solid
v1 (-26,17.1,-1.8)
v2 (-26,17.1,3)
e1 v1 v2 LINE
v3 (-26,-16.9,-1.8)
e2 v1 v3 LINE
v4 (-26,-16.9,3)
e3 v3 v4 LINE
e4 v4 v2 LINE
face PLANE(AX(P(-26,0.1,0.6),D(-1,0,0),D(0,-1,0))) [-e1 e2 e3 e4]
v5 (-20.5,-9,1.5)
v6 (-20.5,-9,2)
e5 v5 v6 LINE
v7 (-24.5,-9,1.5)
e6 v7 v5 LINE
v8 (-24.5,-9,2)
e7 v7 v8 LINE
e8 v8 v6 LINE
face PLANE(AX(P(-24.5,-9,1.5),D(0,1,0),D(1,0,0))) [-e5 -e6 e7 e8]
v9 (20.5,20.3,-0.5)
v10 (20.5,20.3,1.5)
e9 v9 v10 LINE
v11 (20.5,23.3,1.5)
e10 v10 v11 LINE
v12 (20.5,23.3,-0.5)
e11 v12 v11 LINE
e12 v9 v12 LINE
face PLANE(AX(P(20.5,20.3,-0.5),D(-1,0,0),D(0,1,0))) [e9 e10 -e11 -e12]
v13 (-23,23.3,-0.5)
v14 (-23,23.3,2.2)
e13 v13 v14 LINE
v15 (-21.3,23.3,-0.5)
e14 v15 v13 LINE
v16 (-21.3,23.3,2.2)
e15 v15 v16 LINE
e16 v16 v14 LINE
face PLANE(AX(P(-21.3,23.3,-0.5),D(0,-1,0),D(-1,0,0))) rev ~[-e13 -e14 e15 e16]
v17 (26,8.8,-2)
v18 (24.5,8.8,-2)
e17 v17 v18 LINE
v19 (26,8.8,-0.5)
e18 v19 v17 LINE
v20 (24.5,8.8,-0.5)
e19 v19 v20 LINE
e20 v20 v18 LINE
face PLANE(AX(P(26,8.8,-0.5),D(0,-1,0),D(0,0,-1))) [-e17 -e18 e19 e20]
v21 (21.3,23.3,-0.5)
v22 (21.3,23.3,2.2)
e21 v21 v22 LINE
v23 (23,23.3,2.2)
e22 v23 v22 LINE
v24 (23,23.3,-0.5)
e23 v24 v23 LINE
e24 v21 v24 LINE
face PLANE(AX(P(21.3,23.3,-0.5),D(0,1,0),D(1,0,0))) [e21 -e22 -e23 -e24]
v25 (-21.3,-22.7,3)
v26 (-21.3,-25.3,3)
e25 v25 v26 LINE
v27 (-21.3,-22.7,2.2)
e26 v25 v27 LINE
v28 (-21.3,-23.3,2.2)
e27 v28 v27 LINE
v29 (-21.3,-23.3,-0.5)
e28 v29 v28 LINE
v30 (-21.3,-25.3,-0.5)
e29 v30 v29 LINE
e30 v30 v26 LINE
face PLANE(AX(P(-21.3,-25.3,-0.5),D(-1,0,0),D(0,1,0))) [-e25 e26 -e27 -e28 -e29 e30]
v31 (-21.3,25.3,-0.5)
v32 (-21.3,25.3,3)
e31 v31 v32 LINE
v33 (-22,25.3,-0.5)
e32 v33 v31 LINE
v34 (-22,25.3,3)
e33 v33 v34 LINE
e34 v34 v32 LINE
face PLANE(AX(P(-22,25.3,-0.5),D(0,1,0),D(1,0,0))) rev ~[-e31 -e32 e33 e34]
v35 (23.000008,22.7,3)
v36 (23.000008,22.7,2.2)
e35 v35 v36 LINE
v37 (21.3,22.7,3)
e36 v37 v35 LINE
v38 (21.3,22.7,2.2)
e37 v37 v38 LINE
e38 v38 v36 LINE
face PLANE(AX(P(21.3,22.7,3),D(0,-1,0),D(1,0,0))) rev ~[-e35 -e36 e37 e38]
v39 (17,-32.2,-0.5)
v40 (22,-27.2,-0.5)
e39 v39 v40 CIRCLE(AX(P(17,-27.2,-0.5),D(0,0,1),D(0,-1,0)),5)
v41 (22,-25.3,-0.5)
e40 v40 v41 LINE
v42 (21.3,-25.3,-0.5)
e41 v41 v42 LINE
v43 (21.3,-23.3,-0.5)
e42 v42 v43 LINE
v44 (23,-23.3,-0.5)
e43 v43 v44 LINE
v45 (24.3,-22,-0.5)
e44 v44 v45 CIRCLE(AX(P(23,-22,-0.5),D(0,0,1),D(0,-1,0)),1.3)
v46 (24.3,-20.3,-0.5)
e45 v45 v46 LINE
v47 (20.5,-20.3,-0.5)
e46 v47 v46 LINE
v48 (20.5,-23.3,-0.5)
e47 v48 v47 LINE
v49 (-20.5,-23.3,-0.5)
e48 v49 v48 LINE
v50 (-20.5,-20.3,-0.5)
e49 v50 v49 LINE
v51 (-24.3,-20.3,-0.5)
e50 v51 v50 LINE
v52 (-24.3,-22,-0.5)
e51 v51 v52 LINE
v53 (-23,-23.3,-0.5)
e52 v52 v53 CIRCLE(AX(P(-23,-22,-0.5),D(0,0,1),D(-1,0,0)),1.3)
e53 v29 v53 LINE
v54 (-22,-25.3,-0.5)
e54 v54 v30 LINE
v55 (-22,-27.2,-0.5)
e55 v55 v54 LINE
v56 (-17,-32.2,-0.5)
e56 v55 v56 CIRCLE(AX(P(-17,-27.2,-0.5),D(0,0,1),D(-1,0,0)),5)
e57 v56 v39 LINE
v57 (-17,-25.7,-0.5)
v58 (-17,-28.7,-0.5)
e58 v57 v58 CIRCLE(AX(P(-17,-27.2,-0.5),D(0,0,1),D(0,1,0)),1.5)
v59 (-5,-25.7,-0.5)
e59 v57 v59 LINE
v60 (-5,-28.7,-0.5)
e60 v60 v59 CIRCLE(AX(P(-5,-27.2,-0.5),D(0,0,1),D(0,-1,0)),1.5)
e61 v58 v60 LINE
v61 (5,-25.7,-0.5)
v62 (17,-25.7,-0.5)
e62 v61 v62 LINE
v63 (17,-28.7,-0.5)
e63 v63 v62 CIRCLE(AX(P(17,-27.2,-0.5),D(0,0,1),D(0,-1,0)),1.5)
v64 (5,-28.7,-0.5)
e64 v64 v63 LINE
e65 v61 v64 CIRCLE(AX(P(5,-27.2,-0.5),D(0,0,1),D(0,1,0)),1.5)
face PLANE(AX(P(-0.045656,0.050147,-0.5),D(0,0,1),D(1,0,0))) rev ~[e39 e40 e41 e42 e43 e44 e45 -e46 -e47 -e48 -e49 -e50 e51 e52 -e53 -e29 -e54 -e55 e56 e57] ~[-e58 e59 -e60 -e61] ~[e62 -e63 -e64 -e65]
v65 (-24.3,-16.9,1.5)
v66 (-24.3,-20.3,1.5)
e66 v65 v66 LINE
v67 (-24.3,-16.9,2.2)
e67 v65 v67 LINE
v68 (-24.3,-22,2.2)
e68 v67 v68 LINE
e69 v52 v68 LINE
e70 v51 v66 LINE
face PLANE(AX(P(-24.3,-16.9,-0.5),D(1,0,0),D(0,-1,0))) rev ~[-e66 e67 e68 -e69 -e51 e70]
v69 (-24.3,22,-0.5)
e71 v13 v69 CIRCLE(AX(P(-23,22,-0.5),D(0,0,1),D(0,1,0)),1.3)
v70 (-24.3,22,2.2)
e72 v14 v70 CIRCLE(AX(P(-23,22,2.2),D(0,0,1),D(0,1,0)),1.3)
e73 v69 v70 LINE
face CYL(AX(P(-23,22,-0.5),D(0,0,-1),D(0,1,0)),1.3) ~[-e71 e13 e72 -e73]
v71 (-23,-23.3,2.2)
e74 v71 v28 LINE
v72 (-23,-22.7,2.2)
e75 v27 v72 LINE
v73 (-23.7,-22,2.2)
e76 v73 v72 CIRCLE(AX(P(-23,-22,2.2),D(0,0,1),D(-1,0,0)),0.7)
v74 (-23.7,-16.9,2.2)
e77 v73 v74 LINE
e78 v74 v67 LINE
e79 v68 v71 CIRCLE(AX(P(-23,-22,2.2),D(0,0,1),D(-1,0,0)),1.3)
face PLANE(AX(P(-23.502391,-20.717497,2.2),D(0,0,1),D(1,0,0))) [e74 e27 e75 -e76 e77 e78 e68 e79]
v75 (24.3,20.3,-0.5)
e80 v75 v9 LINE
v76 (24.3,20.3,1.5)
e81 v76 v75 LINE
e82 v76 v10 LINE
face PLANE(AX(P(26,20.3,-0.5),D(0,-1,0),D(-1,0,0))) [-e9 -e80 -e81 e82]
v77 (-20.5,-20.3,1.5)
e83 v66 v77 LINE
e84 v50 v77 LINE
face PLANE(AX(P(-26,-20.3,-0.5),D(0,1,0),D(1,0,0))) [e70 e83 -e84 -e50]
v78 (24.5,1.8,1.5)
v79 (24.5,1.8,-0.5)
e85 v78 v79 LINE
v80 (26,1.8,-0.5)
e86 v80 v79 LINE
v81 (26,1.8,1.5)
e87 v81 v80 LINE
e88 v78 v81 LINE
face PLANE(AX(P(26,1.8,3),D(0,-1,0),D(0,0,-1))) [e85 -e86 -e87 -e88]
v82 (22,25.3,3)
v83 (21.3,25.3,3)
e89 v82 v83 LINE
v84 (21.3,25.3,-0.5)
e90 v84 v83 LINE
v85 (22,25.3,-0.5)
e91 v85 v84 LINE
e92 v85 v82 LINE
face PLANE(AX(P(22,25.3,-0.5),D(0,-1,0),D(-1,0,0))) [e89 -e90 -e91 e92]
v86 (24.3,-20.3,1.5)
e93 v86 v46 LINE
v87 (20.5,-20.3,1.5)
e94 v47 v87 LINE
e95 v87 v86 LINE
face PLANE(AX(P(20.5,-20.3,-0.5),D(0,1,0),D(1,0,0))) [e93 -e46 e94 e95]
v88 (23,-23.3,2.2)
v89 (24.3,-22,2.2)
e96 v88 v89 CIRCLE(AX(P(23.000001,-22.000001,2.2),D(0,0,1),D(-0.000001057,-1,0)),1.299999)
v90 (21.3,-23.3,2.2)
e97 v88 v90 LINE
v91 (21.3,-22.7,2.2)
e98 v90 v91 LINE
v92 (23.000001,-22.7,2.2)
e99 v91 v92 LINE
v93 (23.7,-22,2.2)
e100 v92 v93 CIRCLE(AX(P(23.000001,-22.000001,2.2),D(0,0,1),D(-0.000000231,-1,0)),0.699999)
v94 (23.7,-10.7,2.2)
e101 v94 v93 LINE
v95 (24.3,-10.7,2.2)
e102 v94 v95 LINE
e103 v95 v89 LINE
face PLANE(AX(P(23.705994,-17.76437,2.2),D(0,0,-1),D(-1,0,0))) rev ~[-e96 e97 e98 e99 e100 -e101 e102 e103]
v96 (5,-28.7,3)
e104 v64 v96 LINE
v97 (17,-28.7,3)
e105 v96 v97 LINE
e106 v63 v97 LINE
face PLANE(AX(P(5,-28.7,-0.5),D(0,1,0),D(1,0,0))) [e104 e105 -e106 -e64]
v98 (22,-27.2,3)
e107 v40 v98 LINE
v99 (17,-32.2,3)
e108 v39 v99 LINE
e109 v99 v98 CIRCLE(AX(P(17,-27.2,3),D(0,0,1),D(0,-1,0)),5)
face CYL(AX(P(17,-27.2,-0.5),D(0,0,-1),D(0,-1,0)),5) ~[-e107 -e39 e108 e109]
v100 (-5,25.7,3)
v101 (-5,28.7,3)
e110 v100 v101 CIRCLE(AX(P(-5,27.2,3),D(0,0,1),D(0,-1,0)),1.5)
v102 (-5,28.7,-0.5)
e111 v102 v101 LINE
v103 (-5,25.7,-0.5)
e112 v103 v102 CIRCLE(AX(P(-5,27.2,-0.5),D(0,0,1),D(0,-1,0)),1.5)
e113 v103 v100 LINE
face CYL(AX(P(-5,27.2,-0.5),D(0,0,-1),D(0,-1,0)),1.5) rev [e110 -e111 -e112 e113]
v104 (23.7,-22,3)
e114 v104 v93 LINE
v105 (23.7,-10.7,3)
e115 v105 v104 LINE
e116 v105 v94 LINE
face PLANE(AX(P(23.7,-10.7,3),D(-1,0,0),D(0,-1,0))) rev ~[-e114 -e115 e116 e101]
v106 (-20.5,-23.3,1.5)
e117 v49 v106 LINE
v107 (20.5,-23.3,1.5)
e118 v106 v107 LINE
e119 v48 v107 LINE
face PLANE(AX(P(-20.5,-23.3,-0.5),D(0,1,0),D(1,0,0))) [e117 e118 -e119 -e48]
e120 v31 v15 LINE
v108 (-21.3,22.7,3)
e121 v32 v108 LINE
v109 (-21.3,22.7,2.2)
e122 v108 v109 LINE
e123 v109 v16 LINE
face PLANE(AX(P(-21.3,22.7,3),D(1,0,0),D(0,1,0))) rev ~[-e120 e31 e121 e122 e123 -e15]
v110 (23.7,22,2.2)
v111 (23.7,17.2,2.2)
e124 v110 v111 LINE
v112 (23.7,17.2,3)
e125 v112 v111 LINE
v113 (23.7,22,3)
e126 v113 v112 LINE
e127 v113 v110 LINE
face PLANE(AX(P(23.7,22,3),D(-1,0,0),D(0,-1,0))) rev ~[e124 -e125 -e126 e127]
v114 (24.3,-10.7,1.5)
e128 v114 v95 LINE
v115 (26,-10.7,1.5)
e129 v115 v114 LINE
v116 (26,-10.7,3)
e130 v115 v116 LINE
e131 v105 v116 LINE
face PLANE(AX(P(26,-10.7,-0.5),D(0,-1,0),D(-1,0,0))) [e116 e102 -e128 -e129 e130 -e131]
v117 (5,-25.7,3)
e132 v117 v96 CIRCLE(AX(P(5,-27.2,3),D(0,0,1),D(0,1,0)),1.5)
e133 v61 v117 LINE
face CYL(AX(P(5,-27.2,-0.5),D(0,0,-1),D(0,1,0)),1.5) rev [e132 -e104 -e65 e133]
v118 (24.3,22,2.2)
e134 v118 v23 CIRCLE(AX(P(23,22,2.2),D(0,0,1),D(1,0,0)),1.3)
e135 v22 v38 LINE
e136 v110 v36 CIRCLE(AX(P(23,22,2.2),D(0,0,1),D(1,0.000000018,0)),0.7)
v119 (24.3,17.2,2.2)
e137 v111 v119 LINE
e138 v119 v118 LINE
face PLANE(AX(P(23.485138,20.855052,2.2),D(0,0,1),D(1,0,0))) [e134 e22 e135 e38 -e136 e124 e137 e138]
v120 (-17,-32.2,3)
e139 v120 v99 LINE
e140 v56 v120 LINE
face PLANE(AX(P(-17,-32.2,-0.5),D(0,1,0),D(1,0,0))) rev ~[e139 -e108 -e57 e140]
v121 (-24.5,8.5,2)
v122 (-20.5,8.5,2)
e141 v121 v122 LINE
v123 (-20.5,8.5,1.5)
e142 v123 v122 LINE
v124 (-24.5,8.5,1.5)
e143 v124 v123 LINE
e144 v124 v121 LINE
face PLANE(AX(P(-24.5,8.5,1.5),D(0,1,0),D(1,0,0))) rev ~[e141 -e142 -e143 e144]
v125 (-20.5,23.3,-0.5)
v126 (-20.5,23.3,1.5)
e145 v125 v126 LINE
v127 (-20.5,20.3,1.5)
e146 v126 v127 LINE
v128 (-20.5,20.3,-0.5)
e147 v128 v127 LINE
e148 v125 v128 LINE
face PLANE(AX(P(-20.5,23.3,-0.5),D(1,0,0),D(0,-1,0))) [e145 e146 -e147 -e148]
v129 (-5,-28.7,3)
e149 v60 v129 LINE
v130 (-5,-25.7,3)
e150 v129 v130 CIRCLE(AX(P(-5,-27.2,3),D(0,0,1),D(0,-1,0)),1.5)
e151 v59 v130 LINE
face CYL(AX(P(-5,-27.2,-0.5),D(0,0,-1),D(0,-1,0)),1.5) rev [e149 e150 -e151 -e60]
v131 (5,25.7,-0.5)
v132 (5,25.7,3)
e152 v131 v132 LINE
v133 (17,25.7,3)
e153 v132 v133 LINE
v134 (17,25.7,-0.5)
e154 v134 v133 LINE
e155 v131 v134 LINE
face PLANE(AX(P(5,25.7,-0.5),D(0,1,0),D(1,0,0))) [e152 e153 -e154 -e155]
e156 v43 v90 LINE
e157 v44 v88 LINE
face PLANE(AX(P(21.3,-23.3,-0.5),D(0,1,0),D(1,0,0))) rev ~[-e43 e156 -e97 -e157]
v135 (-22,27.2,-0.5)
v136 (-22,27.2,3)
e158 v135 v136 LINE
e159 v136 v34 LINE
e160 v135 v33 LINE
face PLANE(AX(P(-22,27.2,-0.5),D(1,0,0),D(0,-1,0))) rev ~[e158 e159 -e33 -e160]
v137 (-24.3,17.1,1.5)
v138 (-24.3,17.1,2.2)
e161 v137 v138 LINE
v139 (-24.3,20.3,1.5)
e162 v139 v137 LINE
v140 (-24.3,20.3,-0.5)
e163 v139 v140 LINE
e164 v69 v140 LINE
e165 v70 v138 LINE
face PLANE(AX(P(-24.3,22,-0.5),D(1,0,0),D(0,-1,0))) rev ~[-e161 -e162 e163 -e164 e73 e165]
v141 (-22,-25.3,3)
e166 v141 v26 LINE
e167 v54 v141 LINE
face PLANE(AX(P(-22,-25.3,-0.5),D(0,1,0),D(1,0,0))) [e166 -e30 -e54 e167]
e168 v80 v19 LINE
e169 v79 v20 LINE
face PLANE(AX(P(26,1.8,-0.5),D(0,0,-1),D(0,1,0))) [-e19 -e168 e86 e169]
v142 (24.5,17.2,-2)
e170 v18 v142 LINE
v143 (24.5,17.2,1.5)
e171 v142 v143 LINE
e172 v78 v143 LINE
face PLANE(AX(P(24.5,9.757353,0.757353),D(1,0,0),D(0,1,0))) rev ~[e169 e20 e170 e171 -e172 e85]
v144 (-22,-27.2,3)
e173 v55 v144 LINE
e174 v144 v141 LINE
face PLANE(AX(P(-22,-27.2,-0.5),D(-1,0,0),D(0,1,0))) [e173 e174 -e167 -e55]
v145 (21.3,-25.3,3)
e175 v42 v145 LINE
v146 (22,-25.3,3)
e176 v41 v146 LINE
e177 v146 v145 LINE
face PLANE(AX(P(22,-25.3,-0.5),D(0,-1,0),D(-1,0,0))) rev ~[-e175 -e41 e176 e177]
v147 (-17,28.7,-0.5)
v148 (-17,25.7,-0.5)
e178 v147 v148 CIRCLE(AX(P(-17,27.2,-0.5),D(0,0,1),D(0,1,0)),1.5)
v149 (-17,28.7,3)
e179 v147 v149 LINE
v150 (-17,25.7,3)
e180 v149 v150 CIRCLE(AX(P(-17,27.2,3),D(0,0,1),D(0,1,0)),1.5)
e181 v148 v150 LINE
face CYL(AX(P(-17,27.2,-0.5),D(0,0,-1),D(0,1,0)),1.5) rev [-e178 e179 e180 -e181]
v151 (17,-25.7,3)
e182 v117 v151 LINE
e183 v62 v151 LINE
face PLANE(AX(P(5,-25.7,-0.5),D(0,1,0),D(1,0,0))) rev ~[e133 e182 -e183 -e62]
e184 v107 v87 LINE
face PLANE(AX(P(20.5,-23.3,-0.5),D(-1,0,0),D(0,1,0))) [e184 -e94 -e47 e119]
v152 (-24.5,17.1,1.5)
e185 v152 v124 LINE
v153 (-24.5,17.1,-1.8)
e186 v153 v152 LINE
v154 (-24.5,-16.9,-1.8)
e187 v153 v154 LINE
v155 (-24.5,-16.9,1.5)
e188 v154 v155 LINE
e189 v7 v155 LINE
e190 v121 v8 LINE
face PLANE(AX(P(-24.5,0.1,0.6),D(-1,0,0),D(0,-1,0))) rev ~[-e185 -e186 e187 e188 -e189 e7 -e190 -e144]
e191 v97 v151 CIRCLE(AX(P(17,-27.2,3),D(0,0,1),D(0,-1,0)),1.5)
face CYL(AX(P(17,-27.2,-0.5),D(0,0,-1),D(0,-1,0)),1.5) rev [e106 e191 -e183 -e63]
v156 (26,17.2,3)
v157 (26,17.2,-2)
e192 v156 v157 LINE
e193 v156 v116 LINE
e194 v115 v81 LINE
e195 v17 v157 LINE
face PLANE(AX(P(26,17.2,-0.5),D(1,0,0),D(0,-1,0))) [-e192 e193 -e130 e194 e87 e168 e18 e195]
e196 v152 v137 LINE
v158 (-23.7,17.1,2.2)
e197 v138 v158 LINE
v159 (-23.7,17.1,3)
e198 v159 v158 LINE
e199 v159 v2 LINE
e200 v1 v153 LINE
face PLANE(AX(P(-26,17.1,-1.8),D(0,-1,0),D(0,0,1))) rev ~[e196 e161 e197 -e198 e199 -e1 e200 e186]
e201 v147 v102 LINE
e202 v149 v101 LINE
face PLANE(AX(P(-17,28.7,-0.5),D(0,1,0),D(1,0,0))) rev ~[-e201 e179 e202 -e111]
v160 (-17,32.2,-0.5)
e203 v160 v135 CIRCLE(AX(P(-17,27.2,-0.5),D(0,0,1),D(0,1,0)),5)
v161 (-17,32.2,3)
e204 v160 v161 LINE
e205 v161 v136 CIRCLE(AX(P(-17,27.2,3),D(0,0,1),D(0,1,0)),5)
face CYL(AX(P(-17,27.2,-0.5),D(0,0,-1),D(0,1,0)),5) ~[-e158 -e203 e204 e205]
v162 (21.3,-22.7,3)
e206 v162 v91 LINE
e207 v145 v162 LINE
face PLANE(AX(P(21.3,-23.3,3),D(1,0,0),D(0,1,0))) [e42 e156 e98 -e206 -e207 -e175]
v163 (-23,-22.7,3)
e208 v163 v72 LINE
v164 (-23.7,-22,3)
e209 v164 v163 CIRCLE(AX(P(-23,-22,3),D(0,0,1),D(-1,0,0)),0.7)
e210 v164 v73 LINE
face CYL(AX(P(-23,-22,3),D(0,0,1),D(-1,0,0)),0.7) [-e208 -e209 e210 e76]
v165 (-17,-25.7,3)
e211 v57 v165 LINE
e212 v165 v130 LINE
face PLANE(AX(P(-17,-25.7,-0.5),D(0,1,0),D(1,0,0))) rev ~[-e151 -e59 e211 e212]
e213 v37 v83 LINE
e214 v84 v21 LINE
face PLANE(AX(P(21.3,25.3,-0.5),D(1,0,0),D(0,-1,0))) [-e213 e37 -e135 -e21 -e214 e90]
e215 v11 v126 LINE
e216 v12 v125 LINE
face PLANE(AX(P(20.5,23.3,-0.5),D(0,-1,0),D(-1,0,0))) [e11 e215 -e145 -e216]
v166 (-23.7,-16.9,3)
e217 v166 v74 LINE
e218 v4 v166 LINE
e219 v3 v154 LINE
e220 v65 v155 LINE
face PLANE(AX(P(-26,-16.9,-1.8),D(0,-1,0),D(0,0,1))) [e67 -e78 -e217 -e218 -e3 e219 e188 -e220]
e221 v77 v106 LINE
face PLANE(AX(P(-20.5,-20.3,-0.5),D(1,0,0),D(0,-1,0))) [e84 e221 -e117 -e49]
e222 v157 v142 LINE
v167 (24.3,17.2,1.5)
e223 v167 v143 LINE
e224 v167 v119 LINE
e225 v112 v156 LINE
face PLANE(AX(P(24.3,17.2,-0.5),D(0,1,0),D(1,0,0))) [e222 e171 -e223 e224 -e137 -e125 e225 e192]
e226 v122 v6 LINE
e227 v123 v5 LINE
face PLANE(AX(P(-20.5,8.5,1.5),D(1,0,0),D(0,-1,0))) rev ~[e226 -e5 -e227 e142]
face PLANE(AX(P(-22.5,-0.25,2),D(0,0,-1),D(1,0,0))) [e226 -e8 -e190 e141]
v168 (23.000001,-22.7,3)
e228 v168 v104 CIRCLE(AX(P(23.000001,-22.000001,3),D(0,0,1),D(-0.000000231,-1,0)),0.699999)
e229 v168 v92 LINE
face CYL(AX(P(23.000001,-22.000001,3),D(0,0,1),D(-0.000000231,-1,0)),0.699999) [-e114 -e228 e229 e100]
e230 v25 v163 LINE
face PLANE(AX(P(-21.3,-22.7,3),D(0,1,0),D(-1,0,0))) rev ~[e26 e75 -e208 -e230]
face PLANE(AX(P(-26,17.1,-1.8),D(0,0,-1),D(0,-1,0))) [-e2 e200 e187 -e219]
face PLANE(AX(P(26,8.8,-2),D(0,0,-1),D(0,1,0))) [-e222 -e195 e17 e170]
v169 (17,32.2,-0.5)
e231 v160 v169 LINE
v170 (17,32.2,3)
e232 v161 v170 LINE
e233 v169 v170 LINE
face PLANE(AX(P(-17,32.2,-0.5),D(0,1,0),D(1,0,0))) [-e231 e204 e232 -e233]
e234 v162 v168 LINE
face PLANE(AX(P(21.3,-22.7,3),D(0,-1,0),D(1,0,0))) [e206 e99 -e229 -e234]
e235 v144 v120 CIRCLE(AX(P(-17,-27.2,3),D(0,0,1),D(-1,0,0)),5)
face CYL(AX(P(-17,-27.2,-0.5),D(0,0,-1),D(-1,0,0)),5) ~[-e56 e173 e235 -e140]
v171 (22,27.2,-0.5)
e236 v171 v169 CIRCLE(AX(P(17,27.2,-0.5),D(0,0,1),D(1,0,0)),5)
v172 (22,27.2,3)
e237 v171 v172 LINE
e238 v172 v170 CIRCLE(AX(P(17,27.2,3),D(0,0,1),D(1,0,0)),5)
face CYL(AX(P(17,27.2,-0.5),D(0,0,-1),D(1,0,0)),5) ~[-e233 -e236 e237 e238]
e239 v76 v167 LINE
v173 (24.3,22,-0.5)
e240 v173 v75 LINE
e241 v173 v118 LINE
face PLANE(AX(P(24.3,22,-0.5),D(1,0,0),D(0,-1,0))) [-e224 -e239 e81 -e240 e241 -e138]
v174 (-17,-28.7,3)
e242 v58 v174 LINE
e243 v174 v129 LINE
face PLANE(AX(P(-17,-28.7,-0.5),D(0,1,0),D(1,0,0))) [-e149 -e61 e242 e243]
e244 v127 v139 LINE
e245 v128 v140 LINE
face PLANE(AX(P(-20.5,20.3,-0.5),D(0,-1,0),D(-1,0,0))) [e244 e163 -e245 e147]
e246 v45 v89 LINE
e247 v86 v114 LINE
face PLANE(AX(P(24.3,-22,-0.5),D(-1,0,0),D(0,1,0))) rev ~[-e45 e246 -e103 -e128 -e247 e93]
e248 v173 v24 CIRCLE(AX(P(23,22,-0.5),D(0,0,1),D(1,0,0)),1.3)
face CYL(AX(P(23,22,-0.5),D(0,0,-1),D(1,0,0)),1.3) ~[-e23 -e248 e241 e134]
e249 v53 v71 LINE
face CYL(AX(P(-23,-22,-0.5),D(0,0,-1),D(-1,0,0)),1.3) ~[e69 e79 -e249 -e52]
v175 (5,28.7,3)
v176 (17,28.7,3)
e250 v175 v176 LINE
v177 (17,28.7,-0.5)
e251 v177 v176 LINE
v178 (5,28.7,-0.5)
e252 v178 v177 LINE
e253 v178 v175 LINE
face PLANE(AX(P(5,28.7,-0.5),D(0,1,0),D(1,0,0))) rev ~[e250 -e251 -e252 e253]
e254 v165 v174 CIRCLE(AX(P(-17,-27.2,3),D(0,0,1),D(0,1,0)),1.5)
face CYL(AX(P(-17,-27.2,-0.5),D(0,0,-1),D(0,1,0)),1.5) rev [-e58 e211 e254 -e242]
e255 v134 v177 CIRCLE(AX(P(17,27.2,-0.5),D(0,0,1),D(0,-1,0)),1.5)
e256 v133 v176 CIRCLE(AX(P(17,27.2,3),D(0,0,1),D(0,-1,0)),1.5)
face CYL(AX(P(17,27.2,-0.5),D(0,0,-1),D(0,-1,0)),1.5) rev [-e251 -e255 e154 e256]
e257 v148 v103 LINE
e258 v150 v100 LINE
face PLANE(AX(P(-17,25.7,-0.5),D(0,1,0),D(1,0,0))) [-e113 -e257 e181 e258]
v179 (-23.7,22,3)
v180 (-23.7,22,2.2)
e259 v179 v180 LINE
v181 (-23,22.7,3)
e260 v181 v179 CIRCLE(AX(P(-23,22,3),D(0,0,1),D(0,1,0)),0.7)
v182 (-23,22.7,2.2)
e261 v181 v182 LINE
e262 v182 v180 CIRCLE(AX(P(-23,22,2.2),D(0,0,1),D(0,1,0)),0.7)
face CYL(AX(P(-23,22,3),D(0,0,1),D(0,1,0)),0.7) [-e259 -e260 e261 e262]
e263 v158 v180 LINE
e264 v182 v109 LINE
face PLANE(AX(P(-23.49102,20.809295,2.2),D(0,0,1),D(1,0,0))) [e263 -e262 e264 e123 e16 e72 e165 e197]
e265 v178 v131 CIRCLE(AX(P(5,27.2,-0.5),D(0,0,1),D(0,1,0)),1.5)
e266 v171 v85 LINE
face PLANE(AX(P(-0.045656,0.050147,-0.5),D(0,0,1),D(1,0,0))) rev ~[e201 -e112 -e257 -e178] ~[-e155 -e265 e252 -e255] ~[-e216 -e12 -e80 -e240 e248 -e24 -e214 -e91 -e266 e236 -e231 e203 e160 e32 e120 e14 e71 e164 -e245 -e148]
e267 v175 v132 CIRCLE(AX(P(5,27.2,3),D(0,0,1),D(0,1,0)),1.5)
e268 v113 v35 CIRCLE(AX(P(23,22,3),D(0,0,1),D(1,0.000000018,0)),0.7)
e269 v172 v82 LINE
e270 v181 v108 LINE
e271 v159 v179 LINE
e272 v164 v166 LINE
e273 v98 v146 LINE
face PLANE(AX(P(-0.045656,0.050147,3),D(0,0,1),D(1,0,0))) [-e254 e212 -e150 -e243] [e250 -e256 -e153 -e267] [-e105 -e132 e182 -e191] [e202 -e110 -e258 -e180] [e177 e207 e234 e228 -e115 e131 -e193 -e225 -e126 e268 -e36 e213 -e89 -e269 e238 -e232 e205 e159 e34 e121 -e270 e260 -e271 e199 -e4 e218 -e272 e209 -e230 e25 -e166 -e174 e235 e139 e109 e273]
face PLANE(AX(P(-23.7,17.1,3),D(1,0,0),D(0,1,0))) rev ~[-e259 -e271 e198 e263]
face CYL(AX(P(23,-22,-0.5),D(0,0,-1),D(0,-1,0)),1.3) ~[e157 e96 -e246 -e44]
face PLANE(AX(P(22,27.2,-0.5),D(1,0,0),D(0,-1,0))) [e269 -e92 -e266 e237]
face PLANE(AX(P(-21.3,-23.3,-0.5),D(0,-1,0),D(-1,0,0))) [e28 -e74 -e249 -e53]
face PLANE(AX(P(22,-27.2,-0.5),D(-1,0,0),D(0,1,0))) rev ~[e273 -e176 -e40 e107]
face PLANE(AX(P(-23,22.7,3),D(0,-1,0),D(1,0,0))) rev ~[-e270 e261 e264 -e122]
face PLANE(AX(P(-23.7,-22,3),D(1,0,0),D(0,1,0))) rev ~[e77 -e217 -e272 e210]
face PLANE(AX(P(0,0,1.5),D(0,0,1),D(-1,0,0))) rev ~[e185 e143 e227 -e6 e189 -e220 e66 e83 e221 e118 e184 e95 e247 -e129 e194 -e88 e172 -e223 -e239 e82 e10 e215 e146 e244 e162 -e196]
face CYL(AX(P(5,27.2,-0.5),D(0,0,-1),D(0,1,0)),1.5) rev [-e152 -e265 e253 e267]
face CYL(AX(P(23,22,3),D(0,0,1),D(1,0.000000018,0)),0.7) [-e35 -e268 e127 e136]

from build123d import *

# Parameters (mm, degrees)
PAD017_DEPTH    = 3.5
POCKET027_DEPTH = 2
SKETCH054_W     = 34
SKETCH054_H     = 4.8
PAD020_DEPTH    = 1.5
PAD021_DEPTH    = 1.5
SKETCH049_W     = 4
SKETCH049_H     = 17.5
POCKET028_DEPTH = 0.5
POCKET029_DEPTH = 0.8


with BuildPart() as part:
    # Sketch045 → Pad017 (new body)
    with BuildSketch(Plane.XY):
        with BuildLine():
            ThreePointArc((-23, 23.3), (-23.9192388155, 22.9192388155), (-24.3, 22))
            Line((-24.3, 22), (-24.3, 17.1))
            Line((-26, 17.1), (-24.3, 17.1))
            Line((-26, -16.9), (-26, 17.1))
            Line((-24.3, -16.9), (-26, -16.9))
            Line((-24.3, -16.9), (-24.3, -22))
            ThreePointArc((-24.3, -22), (-23.9192388155, -22.9192388155), (-23, -23.3))
            Line((-21.3, -23.3), (-23, -23.3))
            Line((-21.3, -25.3), (-21.3, -23.3))
            Line((-22, -25.3), (-21.3, -25.3))
            Line((-22, -27.2), (-22, -25.3))
            ThreePointArc((-22, -27.2), (-20.5355339059, -30.7355339059), (-17, -32.2))
            Line((-17, -32.2), (17, -32.2))
            ThreePointArc((17, -32.2), (20.5355339059, -30.7355339059), (22, -27.2))
            Line((22, -27.2), (22, -25.3))
            Line((22, -25.3), (21.3, -25.3))
            Line((21.3, -25.3), (21.3, -23.3))
            Line((21.3, -23.3), (23, -23.3))
            ThreePointArc((23, -23.3), (23.9192388155, -22.9192388155), (24.3, -22))
            Line((24.3, -22), (24.3, -10.7))
            Line((26, -10.7), (24.3, -10.7))
            Line((26, 17.2), (26, -10.7))
            Line((24.3, 17.2), (26, 17.2))
            Line((24.3, 22), (24.3, 17.2))
            ThreePointArc((24.3, 22), (23.9192388155, 22.9192388155), (23, 23.3))
            Line((21.3, 23.3), (23, 23.3))
            Line((21.3, 25.3), (21.3, 23.3))
            Line((22, 25.3), (21.3, 25.3))
            Line((22, 27.2), (22, 25.3))
            ThreePointArc((22, 27.2), (20.5355339059, 30.7355339059), (17, 32.2))
            Line((-17, 32.2), (17, 32.2))
            ThreePointArc((-17, 32.2), (-20.5355339059, 30.7355339059), (-22, 27.2))
            Line((-22, 27.2), (-22, 25.3))
            Line((-22, 25.3), (-21.3, 25.3))
            Line((-21.3, 25.3), (-21.3, 23.3))
            Line((-21.3, 23.3), (-23, 23.3))
        make_face()
        with BuildLine():
            ThreePointArc((-17, 28.7), (-18.5, 27.2), (-17, 25.7))
            Line((-17, 25.7), (-5, 25.7))
            ThreePointArc((-5, 25.7), (-3.5, 27.2), (-5, 28.7))
            Line((-17, 28.7), (-5, 28.7))
        make_face(mode=Mode.SUBTRACT)
        with BuildLine():
            ThreePointArc((5, 28.7), (3.5, 27.2), (5, 25.7))
            Line((5, 25.7), (17, 25.7))
            ThreePointArc((17, 25.7), (18.5, 27.2), (17, 28.7))
            Line((5, 28.7), (17, 28.7))
        make_face(mode=Mode.SUBTRACT)
        with BuildLine():
            ThreePointArc((-17, -25.7), (-18.5, -27.2), (-17, -28.7))
            Line((-17, -28.7), (-5, -28.7))
            ThreePointArc((-5, -28.7), (-3.5, -27.2), (-5, -25.7))
            Line((-17, -25.7), (-5, -25.7))
        make_face(mode=Mode.SUBTRACT)
        with BuildLine():
            ThreePointArc((5, -25.7), (3.5, -27.2), (5, -28.7))
            Line((5, -28.7), (17, -28.7))
            ThreePointArc((17, -28.7), (18.5, -27.2), (17, -25.7))
            Line((5, -25.7), (17, -25.7))
        make_face(mode=Mode.SUBTRACT)
    extrude(amount=PAD017_DEPTH)

    # Sketch047 (on Face53 of Pad017) → Pocket027 (cut)
    with BuildSketch(Plane(origin=(0, 0, 0), x_dir=(1, 0, 0), z_dir=(0, 0, -1))):
        Polygon((20.5, -23.3), (-20.5, -23.3), (-20.5, -20.3), (-26, -20.3), (-26, 20.3), (-20.5, 20.3), (-20.5, 23.3), (20.5, 23.3), (20.5, 20.3), (26, 20.3), (26, -20.3), (20.5, -20.3), align=None)
    extrude(amount=-POCKET027_DEPTH, mode=Mode.SUBTRACT)

    # Sketch054 (on Face32 of Pocket027) → Pad020 (join)
    with BuildSketch(Plane(origin=(-26, 0, 0), x_dir=(0, -1, 0), z_dir=(-1, 0, 0))):
        with Locations((-0.1, 1.1)):
            Rectangle(SKETCH054_W, SKETCH054_H)
    extrude(amount=-PAD020_DEPTH)

    # Sketch055 (on Face31 of Pad020) → Pad021 (join)
    with BuildSketch(Plane.YZ.offset(26)):
        Polygon((1.8, 3.5), (1.8, 0), (8.8, 0), (8.8, -1.5), (17.2, -1.5), (17.2, 3.5), align=None)
    extrude(amount=-PAD021_DEPTH)

    # Sketch049 (on Face49 of Pad021) → Pocket028 (cut)
    with BuildSketch(Plane(origin=(0, 0, 2), x_dir=(1, 0, 0), z_dir=(0, 0, -1))):
        with Locations((-22.5, 0.25)):
            Rectangle(SKETCH049_W, SKETCH049_H)
    extrude(amount=-POCKET028_DEPTH, mode=Mode.SUBTRACT)

    # Sketch048 (on Face4 of Pocket028) → Pocket029 (cut)
    with BuildSketch(Plane.XY.offset(3.5)):
        with BuildLine():
            ThreePointArc((24.3, 22), (23.9192388155, 22.9192388155), (23, 23.3))
            Line((23, 23.3), (21.3, 23.3))
            Line((21.3, 23.3), (21.3, 22.7))
            Line((21.3, 22.7), (23.0000081541, 22.7))
            ThreePointArc((23.7, 22.0000000128), (23.4949776252, 22.4949718684), (23.0000081541, 22.7))
            Line((23.7, 22.0000000128), (23.7, 17.2))
            Line((23.7, 17.2), (24.3, 17.2))
            Line((24.3, 17.2), (24.3, 22))
        make_face()
        with BuildLine():
            Line((23, -23.3), (21.3, -23.3))
            Line((21.3, -23.3), (21.3, -22.7))
            Line((21.3, -22.7), (23.0000012126, -22.7))
            ThreePointArc((23.0000012126, -22.7), (23.4949754721, -22.4949748266), (23.7, -22.0000002998))
            Line((23.7, -10.7), (23.7, -22.0000002998))
            Line((23.7, -10.7), (24.3, -10.7))
            Line((24.3, -10.7), (24.3, -22))
            ThreePointArc((23, -23.3), (23.9192392181, -22.9192392181), (24.3, -22))
        make_face()
        with BuildLine():
            ThreePointArc((-23, 23.3), (-23.9192388155, 22.9192388155), (-24.3, 22))
            Line((-24.3, 22), (-24.3, 17.1))
            Line((-24.3, 17.1), (-23.7, 17.1))
            Line((-23.7, 17.1), (-23.7, 21.9999998829))
            ThreePointArc((-23, 22.7), (-23.4949747882, 22.4949747054), (-23.7, 21.9999998829))
            Line((-23, 22.7), (-21.3, 22.7))
            Line((-21.3, 22.7), (-21.3, 23.3))
            Line((-21.3, 23.3), (-23, 23.3))
        make_face()
        with BuildLine():
            ThreePointArc((-24.3, -22), (-23.9192388155, -22.9192388155), (-23, -23.3))
            Line((-23, -23.3), (-21.3, -23.3))
            Line((-21.3, -23.3), (-21.3, -22.7))
            Line((-21.3, -22.7), (-23.0000001118, -22.7))
            ThreePointArc((-23.7, -22), (-23.4949747864, -22.4949747073), (-23.0000001118, -22.7))
            Line((-23.7, -22), (-23.7, -16.9))
            Line((-23.7, -16.9), (-24.3, -16.9))
            Line((-24.3, -16.9), (-24.3, -22))
        make_face()
    extrude(amount=-POCKET029_DEPTH, mode=Mode.SUBTRACT)


with BuildPart() as part_1:
    # Body004 placement: moved
    add(part.part.moved(Location((0, 0, -0.5))))


solid = part_1.part
